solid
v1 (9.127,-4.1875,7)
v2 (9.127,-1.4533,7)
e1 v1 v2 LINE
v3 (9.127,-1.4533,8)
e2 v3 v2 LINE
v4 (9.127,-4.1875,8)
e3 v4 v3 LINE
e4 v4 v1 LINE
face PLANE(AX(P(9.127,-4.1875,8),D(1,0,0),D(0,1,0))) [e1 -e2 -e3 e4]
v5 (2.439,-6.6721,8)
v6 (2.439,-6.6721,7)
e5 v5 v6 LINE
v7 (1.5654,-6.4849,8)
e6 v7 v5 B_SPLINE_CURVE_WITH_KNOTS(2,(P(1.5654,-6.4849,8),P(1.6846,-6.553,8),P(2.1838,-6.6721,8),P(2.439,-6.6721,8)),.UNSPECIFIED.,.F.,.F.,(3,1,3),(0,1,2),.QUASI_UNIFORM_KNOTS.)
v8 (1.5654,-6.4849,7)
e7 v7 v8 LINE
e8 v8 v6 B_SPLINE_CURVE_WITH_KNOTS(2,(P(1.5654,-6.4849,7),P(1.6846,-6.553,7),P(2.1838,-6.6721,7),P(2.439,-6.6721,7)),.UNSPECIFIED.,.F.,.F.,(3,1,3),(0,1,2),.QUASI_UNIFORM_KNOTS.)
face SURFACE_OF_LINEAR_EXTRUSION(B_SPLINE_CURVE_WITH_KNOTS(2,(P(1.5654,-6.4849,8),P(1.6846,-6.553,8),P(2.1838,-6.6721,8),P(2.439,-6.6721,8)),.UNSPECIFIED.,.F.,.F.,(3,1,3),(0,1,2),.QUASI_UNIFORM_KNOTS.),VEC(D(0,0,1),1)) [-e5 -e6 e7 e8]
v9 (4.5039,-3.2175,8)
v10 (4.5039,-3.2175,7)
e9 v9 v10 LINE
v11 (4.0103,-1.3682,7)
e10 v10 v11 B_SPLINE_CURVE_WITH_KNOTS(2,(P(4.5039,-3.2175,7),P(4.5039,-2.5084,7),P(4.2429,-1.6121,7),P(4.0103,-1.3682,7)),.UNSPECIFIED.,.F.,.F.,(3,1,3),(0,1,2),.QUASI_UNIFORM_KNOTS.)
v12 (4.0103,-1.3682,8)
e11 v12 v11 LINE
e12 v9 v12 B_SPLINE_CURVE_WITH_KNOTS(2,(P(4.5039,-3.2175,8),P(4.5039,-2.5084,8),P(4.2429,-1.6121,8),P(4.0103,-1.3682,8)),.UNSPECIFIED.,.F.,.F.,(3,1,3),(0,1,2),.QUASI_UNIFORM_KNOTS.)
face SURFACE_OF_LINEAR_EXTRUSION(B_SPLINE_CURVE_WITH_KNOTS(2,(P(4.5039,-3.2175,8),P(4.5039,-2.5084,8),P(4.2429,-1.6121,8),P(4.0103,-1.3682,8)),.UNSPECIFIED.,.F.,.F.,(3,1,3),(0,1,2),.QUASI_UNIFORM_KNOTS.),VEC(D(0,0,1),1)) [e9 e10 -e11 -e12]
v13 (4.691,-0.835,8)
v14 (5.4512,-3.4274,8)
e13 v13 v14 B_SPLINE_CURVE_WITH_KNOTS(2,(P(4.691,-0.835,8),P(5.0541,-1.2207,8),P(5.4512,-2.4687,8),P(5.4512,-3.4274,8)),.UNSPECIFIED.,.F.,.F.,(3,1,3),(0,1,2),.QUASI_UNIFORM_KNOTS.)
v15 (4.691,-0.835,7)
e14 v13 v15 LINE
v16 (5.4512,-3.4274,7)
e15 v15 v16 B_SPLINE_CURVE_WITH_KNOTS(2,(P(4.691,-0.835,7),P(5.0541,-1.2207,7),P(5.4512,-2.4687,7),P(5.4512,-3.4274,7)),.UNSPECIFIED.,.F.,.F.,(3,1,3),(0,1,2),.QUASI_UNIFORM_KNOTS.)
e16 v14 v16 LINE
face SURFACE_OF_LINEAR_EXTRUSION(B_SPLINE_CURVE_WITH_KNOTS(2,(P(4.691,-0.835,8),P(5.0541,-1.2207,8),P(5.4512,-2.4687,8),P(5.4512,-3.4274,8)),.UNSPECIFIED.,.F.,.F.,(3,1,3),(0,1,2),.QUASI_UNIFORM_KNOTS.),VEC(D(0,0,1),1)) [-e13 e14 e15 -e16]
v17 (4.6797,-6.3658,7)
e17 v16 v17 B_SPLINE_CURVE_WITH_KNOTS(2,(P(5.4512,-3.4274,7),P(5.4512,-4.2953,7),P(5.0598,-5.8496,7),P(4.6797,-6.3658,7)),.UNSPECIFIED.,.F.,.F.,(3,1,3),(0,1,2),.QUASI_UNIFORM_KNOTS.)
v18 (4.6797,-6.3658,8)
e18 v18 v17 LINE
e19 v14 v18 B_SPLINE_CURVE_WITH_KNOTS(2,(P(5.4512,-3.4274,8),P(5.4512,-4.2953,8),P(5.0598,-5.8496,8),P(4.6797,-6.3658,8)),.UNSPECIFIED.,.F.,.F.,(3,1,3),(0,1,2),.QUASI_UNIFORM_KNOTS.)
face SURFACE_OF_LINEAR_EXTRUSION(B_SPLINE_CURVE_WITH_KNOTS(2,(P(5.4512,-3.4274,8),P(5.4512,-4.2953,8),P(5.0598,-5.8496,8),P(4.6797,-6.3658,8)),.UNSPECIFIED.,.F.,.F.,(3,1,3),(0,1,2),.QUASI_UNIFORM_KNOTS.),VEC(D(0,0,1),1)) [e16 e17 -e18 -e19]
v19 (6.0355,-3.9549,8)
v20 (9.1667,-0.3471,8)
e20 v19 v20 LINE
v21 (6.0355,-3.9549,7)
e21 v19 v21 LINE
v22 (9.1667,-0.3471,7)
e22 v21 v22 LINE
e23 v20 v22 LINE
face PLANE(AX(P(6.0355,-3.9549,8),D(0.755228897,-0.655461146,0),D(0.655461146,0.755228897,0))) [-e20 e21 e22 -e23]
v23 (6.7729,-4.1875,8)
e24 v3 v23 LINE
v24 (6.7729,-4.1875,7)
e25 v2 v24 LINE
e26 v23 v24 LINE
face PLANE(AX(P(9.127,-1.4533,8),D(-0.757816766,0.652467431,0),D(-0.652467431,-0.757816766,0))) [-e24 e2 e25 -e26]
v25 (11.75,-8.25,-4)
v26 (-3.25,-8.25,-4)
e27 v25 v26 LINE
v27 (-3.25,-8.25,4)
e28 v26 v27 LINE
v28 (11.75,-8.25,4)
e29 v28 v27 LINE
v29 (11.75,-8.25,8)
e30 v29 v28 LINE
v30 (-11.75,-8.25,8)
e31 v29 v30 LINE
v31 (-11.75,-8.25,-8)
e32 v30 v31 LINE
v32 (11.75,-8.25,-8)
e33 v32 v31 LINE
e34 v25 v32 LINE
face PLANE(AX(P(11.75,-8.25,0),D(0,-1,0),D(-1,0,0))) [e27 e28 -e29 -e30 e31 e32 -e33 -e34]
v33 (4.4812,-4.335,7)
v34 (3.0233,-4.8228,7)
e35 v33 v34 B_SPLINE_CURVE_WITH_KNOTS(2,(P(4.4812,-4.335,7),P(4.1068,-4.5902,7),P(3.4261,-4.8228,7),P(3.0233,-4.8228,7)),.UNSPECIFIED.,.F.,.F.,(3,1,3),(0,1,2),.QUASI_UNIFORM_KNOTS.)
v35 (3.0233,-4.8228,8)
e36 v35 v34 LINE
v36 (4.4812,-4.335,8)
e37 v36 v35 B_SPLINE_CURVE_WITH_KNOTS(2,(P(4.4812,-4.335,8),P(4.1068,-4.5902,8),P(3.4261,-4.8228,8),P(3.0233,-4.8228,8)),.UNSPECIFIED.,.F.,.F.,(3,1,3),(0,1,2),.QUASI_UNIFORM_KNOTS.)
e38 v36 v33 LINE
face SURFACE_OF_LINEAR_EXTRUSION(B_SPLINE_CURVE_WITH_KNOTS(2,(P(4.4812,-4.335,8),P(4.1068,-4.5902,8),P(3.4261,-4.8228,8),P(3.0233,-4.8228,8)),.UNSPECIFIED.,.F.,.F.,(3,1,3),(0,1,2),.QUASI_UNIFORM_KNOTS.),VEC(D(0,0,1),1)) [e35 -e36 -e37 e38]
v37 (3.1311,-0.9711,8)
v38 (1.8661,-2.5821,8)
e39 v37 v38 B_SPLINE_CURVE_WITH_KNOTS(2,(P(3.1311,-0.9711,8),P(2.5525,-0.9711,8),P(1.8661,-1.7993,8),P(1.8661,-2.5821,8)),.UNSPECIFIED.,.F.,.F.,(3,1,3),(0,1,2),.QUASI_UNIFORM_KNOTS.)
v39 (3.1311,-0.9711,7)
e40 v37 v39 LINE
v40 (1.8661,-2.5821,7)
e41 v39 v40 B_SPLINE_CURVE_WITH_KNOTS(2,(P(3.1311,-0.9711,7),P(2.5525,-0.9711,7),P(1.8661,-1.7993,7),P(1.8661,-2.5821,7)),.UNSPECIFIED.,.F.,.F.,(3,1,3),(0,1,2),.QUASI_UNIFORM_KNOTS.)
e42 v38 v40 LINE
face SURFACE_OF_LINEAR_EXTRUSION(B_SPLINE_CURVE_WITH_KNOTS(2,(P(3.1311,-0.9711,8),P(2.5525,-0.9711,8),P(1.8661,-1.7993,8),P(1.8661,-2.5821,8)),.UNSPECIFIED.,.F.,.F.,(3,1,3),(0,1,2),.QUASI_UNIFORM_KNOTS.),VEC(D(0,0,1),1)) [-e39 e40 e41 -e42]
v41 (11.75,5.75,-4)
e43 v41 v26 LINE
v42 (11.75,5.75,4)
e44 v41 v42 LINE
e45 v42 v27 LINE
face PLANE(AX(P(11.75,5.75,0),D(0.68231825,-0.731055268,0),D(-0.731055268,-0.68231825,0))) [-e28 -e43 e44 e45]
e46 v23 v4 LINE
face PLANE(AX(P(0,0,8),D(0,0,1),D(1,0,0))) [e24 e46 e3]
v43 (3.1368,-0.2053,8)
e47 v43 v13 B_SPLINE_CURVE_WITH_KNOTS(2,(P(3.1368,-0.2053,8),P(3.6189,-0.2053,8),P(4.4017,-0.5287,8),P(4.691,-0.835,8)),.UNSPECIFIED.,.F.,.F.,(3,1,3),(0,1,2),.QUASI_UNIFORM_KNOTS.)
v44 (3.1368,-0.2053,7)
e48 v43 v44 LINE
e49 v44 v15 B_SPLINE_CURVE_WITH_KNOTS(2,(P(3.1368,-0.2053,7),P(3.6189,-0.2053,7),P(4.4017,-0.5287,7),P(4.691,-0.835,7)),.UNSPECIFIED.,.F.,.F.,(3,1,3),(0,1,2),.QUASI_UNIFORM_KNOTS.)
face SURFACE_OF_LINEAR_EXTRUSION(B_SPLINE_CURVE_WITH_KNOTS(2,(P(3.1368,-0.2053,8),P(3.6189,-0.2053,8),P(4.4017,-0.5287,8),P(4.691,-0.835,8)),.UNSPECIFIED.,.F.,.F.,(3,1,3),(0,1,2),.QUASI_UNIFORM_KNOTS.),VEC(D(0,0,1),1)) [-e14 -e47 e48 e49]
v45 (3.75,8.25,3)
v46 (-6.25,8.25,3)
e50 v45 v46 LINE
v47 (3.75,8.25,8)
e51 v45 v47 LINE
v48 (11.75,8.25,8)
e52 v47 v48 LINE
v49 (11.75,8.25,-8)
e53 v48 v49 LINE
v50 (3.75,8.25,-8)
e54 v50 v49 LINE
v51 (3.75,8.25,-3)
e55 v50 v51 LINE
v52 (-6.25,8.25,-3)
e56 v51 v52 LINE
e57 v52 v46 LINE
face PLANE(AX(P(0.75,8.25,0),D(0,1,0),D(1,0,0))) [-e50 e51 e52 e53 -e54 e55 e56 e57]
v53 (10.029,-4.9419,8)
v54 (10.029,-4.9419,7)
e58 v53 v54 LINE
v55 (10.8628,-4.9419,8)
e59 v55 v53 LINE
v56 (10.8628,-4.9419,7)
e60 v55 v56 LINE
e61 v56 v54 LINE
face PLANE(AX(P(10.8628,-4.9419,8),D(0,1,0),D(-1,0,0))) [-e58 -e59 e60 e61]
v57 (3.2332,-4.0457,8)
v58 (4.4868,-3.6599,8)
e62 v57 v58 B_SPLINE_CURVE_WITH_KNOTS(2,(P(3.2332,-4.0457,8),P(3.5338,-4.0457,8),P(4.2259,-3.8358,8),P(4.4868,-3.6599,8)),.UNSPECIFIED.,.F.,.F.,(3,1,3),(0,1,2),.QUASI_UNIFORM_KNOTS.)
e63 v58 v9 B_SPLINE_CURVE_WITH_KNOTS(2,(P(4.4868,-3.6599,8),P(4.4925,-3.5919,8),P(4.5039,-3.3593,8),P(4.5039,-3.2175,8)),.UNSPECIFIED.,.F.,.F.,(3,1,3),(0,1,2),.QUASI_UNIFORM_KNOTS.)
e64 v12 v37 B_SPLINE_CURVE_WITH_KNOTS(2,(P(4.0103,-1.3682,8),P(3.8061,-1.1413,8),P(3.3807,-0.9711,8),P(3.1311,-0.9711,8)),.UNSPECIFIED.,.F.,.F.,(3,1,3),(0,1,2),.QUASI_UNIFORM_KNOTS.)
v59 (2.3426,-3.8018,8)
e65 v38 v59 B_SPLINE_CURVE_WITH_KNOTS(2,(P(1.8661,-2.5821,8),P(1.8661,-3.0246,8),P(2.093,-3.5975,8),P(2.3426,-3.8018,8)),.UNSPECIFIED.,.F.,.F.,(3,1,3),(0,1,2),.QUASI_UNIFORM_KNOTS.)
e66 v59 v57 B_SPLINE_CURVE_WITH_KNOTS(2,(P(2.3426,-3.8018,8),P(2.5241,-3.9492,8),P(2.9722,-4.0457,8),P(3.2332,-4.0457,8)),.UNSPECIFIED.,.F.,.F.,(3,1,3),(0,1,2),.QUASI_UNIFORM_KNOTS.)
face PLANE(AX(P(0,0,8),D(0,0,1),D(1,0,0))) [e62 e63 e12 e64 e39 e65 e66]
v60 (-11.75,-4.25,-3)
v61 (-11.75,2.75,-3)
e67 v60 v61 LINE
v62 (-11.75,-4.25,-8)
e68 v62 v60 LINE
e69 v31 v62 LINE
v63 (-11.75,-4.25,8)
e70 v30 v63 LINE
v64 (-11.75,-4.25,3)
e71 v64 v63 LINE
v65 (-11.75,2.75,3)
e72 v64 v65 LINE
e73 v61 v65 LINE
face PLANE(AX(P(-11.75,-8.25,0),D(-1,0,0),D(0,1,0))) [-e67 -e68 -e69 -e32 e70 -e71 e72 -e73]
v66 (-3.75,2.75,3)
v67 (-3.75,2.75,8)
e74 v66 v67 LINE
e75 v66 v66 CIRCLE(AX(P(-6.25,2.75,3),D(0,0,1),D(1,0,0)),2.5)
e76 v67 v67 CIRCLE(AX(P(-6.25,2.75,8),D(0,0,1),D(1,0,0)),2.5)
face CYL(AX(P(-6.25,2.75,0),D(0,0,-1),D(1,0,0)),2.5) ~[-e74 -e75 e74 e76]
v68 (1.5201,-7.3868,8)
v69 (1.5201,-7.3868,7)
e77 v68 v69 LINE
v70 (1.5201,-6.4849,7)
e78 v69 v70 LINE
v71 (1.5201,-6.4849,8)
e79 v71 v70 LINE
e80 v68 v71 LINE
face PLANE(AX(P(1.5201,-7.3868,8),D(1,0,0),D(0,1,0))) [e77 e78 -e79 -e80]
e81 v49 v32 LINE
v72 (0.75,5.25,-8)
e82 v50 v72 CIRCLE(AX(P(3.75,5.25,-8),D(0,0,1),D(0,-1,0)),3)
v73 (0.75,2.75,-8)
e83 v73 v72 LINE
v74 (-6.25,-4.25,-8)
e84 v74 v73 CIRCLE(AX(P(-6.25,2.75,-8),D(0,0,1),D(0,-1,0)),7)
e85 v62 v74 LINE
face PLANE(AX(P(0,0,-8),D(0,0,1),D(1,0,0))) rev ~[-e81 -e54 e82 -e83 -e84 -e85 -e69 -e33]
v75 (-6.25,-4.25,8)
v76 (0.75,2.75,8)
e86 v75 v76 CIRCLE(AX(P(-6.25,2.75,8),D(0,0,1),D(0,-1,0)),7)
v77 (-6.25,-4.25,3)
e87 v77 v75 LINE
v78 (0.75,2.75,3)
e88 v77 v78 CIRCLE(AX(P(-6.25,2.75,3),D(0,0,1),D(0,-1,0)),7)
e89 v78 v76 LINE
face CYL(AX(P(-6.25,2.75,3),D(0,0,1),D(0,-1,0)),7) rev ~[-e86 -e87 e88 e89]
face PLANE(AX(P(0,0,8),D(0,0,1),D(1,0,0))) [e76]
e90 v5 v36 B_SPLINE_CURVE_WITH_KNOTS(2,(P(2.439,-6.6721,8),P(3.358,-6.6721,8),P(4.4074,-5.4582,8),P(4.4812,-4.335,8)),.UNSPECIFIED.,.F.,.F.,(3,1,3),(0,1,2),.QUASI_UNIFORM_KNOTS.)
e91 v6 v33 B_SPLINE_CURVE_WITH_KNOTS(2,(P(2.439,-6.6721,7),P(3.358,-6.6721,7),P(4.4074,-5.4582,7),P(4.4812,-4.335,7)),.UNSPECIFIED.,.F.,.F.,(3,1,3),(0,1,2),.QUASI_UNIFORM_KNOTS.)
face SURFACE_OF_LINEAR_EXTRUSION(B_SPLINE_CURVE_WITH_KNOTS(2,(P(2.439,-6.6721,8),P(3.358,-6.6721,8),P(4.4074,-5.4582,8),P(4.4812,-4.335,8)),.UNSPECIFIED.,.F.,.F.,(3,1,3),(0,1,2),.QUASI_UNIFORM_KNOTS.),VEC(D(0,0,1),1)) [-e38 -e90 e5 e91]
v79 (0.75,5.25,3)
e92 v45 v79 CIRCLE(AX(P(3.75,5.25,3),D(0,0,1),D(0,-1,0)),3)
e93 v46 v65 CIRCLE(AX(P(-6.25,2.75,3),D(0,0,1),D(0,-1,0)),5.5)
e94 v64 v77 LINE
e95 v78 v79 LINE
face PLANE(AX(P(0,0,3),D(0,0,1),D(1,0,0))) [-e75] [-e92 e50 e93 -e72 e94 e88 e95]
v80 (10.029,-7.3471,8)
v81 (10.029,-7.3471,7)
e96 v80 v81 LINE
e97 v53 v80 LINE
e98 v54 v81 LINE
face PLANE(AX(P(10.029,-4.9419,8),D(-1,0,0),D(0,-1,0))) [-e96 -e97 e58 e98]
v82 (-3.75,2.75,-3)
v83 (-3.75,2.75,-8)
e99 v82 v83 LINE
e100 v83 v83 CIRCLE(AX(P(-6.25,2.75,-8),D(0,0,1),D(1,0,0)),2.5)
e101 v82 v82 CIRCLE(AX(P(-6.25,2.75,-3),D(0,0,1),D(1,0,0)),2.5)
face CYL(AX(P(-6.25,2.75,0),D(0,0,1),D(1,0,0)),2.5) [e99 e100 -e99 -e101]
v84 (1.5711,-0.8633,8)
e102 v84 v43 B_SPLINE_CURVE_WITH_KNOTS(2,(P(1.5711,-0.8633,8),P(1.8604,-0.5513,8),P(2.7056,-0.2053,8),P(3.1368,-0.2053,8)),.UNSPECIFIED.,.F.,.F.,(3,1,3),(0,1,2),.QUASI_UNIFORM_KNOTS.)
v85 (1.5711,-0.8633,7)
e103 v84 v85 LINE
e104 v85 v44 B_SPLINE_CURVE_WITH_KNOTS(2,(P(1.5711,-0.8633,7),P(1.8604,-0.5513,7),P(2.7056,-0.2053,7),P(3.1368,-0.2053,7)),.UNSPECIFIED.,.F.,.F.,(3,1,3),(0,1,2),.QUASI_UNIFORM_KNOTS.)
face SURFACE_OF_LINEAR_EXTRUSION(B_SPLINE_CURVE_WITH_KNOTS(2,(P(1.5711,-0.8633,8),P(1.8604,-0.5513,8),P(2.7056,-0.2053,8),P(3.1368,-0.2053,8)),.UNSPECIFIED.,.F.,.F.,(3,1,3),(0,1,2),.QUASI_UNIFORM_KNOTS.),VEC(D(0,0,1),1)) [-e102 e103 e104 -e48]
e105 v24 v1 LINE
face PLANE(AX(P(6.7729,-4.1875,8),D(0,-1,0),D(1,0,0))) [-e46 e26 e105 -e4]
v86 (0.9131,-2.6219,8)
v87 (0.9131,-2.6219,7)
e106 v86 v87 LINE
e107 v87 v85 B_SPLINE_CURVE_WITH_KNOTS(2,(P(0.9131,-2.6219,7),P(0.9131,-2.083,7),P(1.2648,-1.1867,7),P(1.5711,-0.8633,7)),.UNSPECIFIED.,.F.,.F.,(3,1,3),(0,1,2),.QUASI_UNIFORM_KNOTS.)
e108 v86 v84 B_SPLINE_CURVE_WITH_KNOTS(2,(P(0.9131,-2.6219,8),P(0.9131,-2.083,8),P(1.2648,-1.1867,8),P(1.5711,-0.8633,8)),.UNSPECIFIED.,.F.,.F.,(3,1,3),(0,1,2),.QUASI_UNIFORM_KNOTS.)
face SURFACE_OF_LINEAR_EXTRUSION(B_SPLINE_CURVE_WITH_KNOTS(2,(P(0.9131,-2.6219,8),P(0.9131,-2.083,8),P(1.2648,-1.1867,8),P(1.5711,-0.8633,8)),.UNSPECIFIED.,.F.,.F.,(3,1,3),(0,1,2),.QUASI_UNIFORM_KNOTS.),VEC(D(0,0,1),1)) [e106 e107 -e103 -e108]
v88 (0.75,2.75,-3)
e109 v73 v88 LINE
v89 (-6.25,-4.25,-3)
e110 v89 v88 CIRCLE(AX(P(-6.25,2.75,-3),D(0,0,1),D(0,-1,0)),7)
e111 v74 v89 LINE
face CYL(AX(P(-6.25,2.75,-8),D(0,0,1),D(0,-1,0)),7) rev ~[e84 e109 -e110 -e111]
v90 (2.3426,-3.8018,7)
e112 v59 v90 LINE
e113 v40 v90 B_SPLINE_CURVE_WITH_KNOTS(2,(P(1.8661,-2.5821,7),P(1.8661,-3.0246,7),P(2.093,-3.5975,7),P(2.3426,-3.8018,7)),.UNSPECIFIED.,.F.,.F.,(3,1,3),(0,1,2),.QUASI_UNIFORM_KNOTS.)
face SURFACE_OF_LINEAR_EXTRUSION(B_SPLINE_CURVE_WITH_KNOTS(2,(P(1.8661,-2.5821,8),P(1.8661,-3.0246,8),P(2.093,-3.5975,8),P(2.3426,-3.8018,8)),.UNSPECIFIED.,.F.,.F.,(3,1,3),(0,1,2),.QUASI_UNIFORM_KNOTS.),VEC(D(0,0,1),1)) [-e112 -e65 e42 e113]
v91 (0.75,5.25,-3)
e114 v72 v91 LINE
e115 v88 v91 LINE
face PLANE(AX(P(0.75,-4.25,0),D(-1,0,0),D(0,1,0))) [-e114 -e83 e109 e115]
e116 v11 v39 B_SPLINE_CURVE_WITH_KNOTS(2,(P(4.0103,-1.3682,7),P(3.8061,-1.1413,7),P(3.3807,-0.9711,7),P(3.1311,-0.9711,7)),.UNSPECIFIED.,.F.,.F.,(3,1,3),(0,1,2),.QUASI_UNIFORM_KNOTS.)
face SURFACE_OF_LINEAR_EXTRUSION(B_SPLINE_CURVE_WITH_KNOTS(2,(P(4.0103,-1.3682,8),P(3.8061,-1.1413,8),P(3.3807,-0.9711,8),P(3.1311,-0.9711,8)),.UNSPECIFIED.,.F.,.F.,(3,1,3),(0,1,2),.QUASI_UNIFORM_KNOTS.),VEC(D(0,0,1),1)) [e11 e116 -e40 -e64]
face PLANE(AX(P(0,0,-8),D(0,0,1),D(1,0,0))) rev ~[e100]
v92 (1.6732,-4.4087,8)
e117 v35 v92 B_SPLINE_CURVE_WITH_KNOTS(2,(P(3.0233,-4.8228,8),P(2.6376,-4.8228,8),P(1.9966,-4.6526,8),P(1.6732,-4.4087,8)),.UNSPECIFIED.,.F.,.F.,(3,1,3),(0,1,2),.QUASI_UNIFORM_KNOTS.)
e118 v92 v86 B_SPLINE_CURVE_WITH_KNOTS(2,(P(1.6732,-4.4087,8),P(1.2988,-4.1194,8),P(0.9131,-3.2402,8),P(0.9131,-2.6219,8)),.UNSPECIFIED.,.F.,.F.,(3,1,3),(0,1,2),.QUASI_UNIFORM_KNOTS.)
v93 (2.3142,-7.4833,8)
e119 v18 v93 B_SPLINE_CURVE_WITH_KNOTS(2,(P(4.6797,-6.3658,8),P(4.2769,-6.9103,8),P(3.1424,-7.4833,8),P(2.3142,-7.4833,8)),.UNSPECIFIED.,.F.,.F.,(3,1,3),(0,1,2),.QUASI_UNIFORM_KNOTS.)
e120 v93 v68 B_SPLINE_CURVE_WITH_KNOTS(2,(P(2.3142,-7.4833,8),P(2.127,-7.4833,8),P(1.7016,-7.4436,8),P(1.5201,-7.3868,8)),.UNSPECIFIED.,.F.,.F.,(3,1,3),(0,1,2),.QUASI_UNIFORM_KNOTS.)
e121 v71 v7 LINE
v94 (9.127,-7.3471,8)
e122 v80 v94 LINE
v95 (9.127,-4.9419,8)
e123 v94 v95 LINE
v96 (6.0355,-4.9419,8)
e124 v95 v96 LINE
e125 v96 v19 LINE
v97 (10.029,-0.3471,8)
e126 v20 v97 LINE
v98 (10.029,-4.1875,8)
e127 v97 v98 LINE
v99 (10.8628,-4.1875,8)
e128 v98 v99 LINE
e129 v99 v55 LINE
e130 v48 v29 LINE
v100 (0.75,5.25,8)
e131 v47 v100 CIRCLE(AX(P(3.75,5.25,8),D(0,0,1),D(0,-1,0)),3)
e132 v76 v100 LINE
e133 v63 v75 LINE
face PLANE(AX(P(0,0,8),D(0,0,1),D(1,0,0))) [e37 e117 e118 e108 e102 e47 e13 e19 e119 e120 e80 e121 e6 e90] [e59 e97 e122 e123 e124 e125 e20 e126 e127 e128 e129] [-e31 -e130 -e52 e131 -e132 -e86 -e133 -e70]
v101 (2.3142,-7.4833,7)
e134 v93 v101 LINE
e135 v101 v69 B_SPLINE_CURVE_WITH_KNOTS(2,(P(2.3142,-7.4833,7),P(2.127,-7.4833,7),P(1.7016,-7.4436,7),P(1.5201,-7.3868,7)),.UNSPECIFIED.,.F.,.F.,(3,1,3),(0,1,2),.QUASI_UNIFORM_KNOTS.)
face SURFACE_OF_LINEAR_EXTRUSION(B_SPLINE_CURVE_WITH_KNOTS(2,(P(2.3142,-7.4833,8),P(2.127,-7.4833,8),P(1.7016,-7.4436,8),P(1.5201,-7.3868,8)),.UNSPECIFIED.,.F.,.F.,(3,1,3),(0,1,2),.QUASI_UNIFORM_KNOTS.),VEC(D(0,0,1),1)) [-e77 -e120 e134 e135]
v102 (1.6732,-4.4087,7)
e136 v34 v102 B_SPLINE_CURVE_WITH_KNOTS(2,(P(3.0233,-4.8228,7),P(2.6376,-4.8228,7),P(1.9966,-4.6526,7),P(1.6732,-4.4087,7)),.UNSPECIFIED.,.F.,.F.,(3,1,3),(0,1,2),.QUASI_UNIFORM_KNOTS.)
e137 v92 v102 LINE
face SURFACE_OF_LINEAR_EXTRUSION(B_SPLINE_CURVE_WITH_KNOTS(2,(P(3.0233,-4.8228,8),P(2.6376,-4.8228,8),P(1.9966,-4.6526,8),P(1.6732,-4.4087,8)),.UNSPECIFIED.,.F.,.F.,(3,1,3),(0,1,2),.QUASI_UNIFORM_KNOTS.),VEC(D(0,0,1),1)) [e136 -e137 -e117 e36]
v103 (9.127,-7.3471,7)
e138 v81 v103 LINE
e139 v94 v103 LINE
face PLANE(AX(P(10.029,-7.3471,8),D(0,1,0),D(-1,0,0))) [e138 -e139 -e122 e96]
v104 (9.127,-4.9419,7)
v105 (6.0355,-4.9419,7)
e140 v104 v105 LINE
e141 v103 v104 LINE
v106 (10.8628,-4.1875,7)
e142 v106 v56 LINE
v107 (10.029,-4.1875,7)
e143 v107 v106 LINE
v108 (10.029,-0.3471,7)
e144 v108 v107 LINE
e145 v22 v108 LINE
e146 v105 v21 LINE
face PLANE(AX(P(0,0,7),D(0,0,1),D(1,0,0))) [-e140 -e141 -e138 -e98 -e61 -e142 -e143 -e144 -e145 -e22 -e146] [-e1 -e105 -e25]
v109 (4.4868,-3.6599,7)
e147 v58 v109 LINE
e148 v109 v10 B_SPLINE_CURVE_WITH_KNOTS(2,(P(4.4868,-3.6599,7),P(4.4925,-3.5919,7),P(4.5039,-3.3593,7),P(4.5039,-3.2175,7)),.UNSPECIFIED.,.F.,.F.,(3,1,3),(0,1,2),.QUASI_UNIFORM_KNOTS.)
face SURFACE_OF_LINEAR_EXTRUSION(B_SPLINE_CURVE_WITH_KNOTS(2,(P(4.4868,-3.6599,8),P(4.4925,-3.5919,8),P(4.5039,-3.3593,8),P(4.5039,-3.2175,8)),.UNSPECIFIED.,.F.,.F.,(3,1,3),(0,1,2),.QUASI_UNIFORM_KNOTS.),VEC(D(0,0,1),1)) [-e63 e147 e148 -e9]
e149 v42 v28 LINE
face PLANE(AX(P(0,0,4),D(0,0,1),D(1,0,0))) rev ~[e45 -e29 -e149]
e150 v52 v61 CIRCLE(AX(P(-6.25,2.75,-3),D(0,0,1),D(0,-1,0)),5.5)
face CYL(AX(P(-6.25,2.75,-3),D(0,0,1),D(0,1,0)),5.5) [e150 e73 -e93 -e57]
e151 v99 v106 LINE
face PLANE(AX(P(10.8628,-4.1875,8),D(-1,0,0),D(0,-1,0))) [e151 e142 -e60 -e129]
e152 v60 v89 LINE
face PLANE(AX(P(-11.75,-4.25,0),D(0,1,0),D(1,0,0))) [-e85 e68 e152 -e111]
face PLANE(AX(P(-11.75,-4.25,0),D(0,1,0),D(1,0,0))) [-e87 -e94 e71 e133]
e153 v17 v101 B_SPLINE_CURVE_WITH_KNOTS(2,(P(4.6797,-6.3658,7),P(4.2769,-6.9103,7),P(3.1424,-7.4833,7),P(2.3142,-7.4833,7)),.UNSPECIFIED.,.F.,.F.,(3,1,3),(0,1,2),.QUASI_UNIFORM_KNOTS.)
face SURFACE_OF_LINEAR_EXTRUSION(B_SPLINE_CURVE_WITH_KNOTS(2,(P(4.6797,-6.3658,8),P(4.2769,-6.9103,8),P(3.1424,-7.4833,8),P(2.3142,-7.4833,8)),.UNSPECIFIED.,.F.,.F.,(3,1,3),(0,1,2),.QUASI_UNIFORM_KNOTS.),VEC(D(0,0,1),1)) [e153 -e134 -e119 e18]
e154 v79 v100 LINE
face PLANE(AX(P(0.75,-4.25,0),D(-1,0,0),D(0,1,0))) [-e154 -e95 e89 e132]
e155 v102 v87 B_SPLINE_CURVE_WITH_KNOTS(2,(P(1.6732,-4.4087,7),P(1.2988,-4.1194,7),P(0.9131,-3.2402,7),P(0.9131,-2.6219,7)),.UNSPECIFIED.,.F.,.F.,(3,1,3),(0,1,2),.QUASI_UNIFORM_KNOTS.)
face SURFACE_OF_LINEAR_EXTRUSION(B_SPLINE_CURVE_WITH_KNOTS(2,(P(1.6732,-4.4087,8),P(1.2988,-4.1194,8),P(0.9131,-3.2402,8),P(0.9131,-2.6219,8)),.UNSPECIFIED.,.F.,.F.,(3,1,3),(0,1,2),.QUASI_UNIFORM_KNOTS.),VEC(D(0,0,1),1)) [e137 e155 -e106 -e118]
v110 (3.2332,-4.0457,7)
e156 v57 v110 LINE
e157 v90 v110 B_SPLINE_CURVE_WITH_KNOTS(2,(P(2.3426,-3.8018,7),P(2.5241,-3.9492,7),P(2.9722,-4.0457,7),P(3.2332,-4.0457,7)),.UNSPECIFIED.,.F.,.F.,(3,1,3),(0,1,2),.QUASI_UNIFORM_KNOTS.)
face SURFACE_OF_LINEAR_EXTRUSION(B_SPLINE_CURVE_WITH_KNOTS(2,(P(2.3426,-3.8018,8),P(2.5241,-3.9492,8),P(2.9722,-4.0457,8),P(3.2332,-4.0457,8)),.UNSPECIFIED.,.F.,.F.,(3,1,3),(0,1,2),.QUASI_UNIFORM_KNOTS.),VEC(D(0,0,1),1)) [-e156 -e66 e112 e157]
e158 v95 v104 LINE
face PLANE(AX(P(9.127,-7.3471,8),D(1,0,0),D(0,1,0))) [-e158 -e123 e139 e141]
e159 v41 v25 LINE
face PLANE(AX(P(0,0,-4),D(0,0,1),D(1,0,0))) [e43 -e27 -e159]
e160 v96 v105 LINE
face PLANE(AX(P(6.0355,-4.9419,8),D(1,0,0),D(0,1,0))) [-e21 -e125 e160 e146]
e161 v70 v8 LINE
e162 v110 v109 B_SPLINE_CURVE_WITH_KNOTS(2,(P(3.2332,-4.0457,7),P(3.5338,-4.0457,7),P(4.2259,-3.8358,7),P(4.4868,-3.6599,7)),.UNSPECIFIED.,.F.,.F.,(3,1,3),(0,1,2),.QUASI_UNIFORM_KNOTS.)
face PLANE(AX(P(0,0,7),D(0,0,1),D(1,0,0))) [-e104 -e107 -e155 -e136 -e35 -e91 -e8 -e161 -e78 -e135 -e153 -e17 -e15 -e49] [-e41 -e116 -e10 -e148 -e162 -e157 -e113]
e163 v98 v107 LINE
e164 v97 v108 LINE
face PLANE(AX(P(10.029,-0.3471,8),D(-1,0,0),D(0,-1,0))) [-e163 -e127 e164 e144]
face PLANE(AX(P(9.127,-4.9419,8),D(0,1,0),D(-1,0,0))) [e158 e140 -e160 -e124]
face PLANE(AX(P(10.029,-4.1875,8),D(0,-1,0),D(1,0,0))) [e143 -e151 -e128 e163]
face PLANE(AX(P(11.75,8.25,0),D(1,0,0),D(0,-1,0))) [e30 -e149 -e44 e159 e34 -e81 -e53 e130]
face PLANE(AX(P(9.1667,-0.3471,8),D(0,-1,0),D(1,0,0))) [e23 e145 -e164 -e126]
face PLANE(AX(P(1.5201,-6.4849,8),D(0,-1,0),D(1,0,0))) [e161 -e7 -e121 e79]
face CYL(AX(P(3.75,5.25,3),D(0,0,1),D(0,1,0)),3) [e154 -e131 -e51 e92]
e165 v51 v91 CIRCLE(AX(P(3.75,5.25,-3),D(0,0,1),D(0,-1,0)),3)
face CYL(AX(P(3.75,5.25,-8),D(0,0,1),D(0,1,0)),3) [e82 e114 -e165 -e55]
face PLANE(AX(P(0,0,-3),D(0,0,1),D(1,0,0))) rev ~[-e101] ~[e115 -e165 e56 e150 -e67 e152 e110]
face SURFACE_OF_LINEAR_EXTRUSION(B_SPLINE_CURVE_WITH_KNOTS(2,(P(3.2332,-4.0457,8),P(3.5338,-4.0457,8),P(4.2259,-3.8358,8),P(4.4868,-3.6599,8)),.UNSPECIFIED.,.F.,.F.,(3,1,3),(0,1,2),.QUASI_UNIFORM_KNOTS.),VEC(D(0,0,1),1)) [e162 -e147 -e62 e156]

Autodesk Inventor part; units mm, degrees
ref_plane "YZ Plane" through (0, 0, 0) normal (1, 0, 0) x (0, 1, 0)
ref_plane "XZ Plane" through (0, 0, 0) normal (0, 1, 0) x (-1, 0, 0)
ref_plane "XY Plane" through (0, 0, 0) normal (0, 0, 1) x (1, 0, 0)
sketch "스케치1" plane through (0, 0, 0) normal (0, 0, 1) x (1, 0, 0)
  line L0 (-11.75, 8.25) -> (11.75, 8.25)
  line L1 (11.75, 8.25) -> (11.75, -8.25)
  line L2 (11.75, -8.25) -> (-11.75, -8.25)
  line L3 (-11.75, -8.25) -> (-11.75, 8.25)
  line L4 (-11.75, 8.25) -> (11.75, -8.25) construction
  line L5 (11.75, 8.25) -> (-11.75, -8.25) construction
  line L6 (-11.75, -4.25) -> (0.75, -4.25)
  line L7 (0.75, -4.25) -> (0.75, 8.25)
  circle A0 centre (-6.25, 2.75) radius 2.5
  point P0 (0, 0)
  dimension "d0" = 23.5
  dimension "d1" = 16.5
  dimension "d3" = 4
  dimension "d4" = 12.5
  dimension "d5" = 5
  dimension "d6" = 11
  dimension "d7" = 18
extrude "돌출1" add sketch "스케치1" along normal mid plane 16 contours L0 L1 L2 L3 L6 L7 | A0
extrude "돌출2" add sketch "스케치1" along normal mid plane 6 contours L0 L7 L6 L3
ref_plane "작업 평면1" through (0, 0, 0) normal (0, 0, 1) x (1, 0, 0)
sketch "스케치2" plane through (0, 0, 0) normal (0, 0, 1) x (1, 0, 0)
  line L0 (11.75, 8.25) -> (11.75, -8.25) projected
  line L1 (11.75, 5.75) -> (-3.25, -8.25)
  line L2 (-11.75, -8.25) -> (-11.75, -4.25) projected
  line L3 (11.75, -8.25) -> (-11.75, -8.25) projected
  point P0 (0, 0)
  dimension "d12" = 2.5
  dimension "d13" = 8.5
  dimension "d14" = 0
extrude "돌출3" cut sketch "스케치2" along normal mid plane 8
fillet "모깎기1" radius 3 2 edges at (0.75, 8.25, 5.5) (0.75, 8.25, -5.5)
fillet "모깎기2" radius 5.5 1 edges at (-11.75, 8.25, 0)
fillet "모깎기3" radius 7 2 edges at (0.75, -4.25, 5.5) (0.75, -4.25, -5.5)
sketch "스케치3" plane through (0, 0, 8) normal (0, 0, 1) x (1, 0, 0)
  line L0 (0.5954, -0.2053) -> (15.6035, -0.2053) construction
  line L1 (15.6035, -0.2053) -> (15.6035, -10.6024) construction
  line L2 (15.6035, -10.6024) -> (0.5954, -10.6024) construction
  line L3 (0.5954, -10.6024) -> (0.5954, -0.2053) construction
  spline S0 degree 2 poles (0.9131, -2.6219) (0.9131, -2.083) (1.2648, -1.1867) (1.5711, -0.8633) knots 0 0 0 1 2 2 2
  spline S1 degree 2 poles (1.5711, -0.8633) (1.8604, -0.5513) (2.7056, -0.2053) (3.1368, -0.2053) knots 0 0 0 1 2 2 2
  spline S2 degree 2 poles (3.1368, -0.2053) (3.6189, -0.2053) (4.4017, -0.5287) (4.691, -0.835) knots 0 0 0 1 2 2 2
  spline S3 degree 2 poles (4.691, -0.835) (5.0541, -1.2207) (5.4512, -2.4687) (5.4512, -3.4274) knots 0 0 0 1 2 2 2
  spline S4 degree 2 poles (5.4512, -3.4274) (5.4512, -4.2953) (5.0598, -5.8496) (4.6797, -6.3658) knots 0 0 0 1 2 2 2
  spline S5 degree 2 poles (4.6797, -6.3658) (4.2769, -6.9103) (3.1424, -7.4833) (2.3142, -7.4833) knots 0 0 0 1 2 2 2
  spline S6 degree 2 poles (2.3142, -7.4833) (2.127, -7.4833) (1.7016, -7.4436) (1.5201, -7.3868) knots 0 0 0 1 2 2 2
  line L4 (1.5201, -7.3868) -> (1.5201, -6.4849)
  line L5 (1.5201, -6.4849) -> (1.5654, -6.4849)
  spline S7 degree 2 poles (1.5654, -6.4849) (1.6846, -6.553) (2.1838, -6.6721) (2.439, -6.6721) knots 0 0 0 1 2 2 2
  spline S8 degree 2 poles (2.439, -6.6721) (3.358, -6.6721) (4.4074, -5.4582) (4.4812, -4.335) knots 0 0 0 1 2 2 2
  spline S9 degree 2 poles (4.4812, -4.335) (4.1068, -4.5902) (3.4261, -4.8228) (3.0233, -4.8228) knots 0 0 0 1 2 2 2
  spline S10 degree 2 poles (3.0233, -4.8228) (2.6376, -4.8228) (1.9966, -4.6526) (1.6732, -4.4087) knots 0 0 0 1 2 2 2
  spline S11 degree 2 poles (1.6732, -4.4087) (1.2988, -4.1194) (0.9131, -3.2402) (0.9131, -2.6219) knots 0 0 0 1 2 2 2
  spline S12 degree 2 poles (4.5039, -3.2175) (4.5039, -2.5084) (4.2429, -1.6121) (4.0103, -1.3682) knots 0 0 0 1 2 2 2
  spline S13 degree 2 poles (4.0103, -1.3682) (3.8061, -1.1413) (3.3807, -0.9711) (3.1311, -0.9711) knots 0 0 0 1 2 2 2
  spline S14 degree 2 poles (3.1311, -0.9711) (2.5525, -0.9711) (1.8661, -1.7993) (1.8661, -2.5821) knots 0 0 0 1 2 2 2
  spline S15 degree 2 poles (1.8661, -2.5821) (1.8661, -3.0246) (2.093, -3.5975) (2.3426, -3.8018) knots 0 0 0 1 2 2 2
  spline S16 degree 2 poles (2.3426, -3.8018) (2.5241, -3.9492) (2.9722, -4.0457) (3.2332, -4.0457) knots 0 0 0 1 2 2 2
  spline S17 degree 2 poles (3.2332, -4.0457) (3.5338, -4.0457) (4.2259, -3.8358) (4.4868, -3.6599) knots 0 0 0 1 2 2 2
  spline S18 degree 2 poles (4.4868, -3.6599) (4.4925, -3.5919) (4.5039, -3.3593) (4.5039, -3.2175) knots 0 0 0 1 2 2 2
  line L6 (10.8628, -4.9419) -> (10.029, -4.9419)
  line L7 (10.029, -4.9419) -> (10.029, -7.3471)
  line L8 (10.029, -7.3471) -> (9.127, -7.3471)
  line L9 (9.127, -7.3471) -> (9.127, -4.9419)
  line L10 (9.127, -4.9419) -> (6.0355, -4.9419)
  line L11 (6.0355, -4.9419) -> (6.0355, -3.9549)
  line L12 (6.0355, -3.9549) -> (9.1667, -0.3471)
  line L13 (9.1667, -0.3471) -> (10.029, -0.3471)
  line L14 (10.029, -0.3471) -> (10.029, -4.1875)
  line L15 (10.029, -4.1875) -> (10.8628, -4.1875)
  line L16 (10.8628, -4.1875) -> (10.8628, -4.9419)
  line L17 (9.127, -4.1875) -> (9.127, -1.4533)
  line L18 (9.127, -1.4533) -> (6.7729, -4.1875)
  line L19 (6.7729, -4.1875) -> (9.127, -4.1875)
  point P0 (0, 0)
extrude "돌출4" cut sketch "스케치3" against normal blind 1
properties part number "1번부품"
